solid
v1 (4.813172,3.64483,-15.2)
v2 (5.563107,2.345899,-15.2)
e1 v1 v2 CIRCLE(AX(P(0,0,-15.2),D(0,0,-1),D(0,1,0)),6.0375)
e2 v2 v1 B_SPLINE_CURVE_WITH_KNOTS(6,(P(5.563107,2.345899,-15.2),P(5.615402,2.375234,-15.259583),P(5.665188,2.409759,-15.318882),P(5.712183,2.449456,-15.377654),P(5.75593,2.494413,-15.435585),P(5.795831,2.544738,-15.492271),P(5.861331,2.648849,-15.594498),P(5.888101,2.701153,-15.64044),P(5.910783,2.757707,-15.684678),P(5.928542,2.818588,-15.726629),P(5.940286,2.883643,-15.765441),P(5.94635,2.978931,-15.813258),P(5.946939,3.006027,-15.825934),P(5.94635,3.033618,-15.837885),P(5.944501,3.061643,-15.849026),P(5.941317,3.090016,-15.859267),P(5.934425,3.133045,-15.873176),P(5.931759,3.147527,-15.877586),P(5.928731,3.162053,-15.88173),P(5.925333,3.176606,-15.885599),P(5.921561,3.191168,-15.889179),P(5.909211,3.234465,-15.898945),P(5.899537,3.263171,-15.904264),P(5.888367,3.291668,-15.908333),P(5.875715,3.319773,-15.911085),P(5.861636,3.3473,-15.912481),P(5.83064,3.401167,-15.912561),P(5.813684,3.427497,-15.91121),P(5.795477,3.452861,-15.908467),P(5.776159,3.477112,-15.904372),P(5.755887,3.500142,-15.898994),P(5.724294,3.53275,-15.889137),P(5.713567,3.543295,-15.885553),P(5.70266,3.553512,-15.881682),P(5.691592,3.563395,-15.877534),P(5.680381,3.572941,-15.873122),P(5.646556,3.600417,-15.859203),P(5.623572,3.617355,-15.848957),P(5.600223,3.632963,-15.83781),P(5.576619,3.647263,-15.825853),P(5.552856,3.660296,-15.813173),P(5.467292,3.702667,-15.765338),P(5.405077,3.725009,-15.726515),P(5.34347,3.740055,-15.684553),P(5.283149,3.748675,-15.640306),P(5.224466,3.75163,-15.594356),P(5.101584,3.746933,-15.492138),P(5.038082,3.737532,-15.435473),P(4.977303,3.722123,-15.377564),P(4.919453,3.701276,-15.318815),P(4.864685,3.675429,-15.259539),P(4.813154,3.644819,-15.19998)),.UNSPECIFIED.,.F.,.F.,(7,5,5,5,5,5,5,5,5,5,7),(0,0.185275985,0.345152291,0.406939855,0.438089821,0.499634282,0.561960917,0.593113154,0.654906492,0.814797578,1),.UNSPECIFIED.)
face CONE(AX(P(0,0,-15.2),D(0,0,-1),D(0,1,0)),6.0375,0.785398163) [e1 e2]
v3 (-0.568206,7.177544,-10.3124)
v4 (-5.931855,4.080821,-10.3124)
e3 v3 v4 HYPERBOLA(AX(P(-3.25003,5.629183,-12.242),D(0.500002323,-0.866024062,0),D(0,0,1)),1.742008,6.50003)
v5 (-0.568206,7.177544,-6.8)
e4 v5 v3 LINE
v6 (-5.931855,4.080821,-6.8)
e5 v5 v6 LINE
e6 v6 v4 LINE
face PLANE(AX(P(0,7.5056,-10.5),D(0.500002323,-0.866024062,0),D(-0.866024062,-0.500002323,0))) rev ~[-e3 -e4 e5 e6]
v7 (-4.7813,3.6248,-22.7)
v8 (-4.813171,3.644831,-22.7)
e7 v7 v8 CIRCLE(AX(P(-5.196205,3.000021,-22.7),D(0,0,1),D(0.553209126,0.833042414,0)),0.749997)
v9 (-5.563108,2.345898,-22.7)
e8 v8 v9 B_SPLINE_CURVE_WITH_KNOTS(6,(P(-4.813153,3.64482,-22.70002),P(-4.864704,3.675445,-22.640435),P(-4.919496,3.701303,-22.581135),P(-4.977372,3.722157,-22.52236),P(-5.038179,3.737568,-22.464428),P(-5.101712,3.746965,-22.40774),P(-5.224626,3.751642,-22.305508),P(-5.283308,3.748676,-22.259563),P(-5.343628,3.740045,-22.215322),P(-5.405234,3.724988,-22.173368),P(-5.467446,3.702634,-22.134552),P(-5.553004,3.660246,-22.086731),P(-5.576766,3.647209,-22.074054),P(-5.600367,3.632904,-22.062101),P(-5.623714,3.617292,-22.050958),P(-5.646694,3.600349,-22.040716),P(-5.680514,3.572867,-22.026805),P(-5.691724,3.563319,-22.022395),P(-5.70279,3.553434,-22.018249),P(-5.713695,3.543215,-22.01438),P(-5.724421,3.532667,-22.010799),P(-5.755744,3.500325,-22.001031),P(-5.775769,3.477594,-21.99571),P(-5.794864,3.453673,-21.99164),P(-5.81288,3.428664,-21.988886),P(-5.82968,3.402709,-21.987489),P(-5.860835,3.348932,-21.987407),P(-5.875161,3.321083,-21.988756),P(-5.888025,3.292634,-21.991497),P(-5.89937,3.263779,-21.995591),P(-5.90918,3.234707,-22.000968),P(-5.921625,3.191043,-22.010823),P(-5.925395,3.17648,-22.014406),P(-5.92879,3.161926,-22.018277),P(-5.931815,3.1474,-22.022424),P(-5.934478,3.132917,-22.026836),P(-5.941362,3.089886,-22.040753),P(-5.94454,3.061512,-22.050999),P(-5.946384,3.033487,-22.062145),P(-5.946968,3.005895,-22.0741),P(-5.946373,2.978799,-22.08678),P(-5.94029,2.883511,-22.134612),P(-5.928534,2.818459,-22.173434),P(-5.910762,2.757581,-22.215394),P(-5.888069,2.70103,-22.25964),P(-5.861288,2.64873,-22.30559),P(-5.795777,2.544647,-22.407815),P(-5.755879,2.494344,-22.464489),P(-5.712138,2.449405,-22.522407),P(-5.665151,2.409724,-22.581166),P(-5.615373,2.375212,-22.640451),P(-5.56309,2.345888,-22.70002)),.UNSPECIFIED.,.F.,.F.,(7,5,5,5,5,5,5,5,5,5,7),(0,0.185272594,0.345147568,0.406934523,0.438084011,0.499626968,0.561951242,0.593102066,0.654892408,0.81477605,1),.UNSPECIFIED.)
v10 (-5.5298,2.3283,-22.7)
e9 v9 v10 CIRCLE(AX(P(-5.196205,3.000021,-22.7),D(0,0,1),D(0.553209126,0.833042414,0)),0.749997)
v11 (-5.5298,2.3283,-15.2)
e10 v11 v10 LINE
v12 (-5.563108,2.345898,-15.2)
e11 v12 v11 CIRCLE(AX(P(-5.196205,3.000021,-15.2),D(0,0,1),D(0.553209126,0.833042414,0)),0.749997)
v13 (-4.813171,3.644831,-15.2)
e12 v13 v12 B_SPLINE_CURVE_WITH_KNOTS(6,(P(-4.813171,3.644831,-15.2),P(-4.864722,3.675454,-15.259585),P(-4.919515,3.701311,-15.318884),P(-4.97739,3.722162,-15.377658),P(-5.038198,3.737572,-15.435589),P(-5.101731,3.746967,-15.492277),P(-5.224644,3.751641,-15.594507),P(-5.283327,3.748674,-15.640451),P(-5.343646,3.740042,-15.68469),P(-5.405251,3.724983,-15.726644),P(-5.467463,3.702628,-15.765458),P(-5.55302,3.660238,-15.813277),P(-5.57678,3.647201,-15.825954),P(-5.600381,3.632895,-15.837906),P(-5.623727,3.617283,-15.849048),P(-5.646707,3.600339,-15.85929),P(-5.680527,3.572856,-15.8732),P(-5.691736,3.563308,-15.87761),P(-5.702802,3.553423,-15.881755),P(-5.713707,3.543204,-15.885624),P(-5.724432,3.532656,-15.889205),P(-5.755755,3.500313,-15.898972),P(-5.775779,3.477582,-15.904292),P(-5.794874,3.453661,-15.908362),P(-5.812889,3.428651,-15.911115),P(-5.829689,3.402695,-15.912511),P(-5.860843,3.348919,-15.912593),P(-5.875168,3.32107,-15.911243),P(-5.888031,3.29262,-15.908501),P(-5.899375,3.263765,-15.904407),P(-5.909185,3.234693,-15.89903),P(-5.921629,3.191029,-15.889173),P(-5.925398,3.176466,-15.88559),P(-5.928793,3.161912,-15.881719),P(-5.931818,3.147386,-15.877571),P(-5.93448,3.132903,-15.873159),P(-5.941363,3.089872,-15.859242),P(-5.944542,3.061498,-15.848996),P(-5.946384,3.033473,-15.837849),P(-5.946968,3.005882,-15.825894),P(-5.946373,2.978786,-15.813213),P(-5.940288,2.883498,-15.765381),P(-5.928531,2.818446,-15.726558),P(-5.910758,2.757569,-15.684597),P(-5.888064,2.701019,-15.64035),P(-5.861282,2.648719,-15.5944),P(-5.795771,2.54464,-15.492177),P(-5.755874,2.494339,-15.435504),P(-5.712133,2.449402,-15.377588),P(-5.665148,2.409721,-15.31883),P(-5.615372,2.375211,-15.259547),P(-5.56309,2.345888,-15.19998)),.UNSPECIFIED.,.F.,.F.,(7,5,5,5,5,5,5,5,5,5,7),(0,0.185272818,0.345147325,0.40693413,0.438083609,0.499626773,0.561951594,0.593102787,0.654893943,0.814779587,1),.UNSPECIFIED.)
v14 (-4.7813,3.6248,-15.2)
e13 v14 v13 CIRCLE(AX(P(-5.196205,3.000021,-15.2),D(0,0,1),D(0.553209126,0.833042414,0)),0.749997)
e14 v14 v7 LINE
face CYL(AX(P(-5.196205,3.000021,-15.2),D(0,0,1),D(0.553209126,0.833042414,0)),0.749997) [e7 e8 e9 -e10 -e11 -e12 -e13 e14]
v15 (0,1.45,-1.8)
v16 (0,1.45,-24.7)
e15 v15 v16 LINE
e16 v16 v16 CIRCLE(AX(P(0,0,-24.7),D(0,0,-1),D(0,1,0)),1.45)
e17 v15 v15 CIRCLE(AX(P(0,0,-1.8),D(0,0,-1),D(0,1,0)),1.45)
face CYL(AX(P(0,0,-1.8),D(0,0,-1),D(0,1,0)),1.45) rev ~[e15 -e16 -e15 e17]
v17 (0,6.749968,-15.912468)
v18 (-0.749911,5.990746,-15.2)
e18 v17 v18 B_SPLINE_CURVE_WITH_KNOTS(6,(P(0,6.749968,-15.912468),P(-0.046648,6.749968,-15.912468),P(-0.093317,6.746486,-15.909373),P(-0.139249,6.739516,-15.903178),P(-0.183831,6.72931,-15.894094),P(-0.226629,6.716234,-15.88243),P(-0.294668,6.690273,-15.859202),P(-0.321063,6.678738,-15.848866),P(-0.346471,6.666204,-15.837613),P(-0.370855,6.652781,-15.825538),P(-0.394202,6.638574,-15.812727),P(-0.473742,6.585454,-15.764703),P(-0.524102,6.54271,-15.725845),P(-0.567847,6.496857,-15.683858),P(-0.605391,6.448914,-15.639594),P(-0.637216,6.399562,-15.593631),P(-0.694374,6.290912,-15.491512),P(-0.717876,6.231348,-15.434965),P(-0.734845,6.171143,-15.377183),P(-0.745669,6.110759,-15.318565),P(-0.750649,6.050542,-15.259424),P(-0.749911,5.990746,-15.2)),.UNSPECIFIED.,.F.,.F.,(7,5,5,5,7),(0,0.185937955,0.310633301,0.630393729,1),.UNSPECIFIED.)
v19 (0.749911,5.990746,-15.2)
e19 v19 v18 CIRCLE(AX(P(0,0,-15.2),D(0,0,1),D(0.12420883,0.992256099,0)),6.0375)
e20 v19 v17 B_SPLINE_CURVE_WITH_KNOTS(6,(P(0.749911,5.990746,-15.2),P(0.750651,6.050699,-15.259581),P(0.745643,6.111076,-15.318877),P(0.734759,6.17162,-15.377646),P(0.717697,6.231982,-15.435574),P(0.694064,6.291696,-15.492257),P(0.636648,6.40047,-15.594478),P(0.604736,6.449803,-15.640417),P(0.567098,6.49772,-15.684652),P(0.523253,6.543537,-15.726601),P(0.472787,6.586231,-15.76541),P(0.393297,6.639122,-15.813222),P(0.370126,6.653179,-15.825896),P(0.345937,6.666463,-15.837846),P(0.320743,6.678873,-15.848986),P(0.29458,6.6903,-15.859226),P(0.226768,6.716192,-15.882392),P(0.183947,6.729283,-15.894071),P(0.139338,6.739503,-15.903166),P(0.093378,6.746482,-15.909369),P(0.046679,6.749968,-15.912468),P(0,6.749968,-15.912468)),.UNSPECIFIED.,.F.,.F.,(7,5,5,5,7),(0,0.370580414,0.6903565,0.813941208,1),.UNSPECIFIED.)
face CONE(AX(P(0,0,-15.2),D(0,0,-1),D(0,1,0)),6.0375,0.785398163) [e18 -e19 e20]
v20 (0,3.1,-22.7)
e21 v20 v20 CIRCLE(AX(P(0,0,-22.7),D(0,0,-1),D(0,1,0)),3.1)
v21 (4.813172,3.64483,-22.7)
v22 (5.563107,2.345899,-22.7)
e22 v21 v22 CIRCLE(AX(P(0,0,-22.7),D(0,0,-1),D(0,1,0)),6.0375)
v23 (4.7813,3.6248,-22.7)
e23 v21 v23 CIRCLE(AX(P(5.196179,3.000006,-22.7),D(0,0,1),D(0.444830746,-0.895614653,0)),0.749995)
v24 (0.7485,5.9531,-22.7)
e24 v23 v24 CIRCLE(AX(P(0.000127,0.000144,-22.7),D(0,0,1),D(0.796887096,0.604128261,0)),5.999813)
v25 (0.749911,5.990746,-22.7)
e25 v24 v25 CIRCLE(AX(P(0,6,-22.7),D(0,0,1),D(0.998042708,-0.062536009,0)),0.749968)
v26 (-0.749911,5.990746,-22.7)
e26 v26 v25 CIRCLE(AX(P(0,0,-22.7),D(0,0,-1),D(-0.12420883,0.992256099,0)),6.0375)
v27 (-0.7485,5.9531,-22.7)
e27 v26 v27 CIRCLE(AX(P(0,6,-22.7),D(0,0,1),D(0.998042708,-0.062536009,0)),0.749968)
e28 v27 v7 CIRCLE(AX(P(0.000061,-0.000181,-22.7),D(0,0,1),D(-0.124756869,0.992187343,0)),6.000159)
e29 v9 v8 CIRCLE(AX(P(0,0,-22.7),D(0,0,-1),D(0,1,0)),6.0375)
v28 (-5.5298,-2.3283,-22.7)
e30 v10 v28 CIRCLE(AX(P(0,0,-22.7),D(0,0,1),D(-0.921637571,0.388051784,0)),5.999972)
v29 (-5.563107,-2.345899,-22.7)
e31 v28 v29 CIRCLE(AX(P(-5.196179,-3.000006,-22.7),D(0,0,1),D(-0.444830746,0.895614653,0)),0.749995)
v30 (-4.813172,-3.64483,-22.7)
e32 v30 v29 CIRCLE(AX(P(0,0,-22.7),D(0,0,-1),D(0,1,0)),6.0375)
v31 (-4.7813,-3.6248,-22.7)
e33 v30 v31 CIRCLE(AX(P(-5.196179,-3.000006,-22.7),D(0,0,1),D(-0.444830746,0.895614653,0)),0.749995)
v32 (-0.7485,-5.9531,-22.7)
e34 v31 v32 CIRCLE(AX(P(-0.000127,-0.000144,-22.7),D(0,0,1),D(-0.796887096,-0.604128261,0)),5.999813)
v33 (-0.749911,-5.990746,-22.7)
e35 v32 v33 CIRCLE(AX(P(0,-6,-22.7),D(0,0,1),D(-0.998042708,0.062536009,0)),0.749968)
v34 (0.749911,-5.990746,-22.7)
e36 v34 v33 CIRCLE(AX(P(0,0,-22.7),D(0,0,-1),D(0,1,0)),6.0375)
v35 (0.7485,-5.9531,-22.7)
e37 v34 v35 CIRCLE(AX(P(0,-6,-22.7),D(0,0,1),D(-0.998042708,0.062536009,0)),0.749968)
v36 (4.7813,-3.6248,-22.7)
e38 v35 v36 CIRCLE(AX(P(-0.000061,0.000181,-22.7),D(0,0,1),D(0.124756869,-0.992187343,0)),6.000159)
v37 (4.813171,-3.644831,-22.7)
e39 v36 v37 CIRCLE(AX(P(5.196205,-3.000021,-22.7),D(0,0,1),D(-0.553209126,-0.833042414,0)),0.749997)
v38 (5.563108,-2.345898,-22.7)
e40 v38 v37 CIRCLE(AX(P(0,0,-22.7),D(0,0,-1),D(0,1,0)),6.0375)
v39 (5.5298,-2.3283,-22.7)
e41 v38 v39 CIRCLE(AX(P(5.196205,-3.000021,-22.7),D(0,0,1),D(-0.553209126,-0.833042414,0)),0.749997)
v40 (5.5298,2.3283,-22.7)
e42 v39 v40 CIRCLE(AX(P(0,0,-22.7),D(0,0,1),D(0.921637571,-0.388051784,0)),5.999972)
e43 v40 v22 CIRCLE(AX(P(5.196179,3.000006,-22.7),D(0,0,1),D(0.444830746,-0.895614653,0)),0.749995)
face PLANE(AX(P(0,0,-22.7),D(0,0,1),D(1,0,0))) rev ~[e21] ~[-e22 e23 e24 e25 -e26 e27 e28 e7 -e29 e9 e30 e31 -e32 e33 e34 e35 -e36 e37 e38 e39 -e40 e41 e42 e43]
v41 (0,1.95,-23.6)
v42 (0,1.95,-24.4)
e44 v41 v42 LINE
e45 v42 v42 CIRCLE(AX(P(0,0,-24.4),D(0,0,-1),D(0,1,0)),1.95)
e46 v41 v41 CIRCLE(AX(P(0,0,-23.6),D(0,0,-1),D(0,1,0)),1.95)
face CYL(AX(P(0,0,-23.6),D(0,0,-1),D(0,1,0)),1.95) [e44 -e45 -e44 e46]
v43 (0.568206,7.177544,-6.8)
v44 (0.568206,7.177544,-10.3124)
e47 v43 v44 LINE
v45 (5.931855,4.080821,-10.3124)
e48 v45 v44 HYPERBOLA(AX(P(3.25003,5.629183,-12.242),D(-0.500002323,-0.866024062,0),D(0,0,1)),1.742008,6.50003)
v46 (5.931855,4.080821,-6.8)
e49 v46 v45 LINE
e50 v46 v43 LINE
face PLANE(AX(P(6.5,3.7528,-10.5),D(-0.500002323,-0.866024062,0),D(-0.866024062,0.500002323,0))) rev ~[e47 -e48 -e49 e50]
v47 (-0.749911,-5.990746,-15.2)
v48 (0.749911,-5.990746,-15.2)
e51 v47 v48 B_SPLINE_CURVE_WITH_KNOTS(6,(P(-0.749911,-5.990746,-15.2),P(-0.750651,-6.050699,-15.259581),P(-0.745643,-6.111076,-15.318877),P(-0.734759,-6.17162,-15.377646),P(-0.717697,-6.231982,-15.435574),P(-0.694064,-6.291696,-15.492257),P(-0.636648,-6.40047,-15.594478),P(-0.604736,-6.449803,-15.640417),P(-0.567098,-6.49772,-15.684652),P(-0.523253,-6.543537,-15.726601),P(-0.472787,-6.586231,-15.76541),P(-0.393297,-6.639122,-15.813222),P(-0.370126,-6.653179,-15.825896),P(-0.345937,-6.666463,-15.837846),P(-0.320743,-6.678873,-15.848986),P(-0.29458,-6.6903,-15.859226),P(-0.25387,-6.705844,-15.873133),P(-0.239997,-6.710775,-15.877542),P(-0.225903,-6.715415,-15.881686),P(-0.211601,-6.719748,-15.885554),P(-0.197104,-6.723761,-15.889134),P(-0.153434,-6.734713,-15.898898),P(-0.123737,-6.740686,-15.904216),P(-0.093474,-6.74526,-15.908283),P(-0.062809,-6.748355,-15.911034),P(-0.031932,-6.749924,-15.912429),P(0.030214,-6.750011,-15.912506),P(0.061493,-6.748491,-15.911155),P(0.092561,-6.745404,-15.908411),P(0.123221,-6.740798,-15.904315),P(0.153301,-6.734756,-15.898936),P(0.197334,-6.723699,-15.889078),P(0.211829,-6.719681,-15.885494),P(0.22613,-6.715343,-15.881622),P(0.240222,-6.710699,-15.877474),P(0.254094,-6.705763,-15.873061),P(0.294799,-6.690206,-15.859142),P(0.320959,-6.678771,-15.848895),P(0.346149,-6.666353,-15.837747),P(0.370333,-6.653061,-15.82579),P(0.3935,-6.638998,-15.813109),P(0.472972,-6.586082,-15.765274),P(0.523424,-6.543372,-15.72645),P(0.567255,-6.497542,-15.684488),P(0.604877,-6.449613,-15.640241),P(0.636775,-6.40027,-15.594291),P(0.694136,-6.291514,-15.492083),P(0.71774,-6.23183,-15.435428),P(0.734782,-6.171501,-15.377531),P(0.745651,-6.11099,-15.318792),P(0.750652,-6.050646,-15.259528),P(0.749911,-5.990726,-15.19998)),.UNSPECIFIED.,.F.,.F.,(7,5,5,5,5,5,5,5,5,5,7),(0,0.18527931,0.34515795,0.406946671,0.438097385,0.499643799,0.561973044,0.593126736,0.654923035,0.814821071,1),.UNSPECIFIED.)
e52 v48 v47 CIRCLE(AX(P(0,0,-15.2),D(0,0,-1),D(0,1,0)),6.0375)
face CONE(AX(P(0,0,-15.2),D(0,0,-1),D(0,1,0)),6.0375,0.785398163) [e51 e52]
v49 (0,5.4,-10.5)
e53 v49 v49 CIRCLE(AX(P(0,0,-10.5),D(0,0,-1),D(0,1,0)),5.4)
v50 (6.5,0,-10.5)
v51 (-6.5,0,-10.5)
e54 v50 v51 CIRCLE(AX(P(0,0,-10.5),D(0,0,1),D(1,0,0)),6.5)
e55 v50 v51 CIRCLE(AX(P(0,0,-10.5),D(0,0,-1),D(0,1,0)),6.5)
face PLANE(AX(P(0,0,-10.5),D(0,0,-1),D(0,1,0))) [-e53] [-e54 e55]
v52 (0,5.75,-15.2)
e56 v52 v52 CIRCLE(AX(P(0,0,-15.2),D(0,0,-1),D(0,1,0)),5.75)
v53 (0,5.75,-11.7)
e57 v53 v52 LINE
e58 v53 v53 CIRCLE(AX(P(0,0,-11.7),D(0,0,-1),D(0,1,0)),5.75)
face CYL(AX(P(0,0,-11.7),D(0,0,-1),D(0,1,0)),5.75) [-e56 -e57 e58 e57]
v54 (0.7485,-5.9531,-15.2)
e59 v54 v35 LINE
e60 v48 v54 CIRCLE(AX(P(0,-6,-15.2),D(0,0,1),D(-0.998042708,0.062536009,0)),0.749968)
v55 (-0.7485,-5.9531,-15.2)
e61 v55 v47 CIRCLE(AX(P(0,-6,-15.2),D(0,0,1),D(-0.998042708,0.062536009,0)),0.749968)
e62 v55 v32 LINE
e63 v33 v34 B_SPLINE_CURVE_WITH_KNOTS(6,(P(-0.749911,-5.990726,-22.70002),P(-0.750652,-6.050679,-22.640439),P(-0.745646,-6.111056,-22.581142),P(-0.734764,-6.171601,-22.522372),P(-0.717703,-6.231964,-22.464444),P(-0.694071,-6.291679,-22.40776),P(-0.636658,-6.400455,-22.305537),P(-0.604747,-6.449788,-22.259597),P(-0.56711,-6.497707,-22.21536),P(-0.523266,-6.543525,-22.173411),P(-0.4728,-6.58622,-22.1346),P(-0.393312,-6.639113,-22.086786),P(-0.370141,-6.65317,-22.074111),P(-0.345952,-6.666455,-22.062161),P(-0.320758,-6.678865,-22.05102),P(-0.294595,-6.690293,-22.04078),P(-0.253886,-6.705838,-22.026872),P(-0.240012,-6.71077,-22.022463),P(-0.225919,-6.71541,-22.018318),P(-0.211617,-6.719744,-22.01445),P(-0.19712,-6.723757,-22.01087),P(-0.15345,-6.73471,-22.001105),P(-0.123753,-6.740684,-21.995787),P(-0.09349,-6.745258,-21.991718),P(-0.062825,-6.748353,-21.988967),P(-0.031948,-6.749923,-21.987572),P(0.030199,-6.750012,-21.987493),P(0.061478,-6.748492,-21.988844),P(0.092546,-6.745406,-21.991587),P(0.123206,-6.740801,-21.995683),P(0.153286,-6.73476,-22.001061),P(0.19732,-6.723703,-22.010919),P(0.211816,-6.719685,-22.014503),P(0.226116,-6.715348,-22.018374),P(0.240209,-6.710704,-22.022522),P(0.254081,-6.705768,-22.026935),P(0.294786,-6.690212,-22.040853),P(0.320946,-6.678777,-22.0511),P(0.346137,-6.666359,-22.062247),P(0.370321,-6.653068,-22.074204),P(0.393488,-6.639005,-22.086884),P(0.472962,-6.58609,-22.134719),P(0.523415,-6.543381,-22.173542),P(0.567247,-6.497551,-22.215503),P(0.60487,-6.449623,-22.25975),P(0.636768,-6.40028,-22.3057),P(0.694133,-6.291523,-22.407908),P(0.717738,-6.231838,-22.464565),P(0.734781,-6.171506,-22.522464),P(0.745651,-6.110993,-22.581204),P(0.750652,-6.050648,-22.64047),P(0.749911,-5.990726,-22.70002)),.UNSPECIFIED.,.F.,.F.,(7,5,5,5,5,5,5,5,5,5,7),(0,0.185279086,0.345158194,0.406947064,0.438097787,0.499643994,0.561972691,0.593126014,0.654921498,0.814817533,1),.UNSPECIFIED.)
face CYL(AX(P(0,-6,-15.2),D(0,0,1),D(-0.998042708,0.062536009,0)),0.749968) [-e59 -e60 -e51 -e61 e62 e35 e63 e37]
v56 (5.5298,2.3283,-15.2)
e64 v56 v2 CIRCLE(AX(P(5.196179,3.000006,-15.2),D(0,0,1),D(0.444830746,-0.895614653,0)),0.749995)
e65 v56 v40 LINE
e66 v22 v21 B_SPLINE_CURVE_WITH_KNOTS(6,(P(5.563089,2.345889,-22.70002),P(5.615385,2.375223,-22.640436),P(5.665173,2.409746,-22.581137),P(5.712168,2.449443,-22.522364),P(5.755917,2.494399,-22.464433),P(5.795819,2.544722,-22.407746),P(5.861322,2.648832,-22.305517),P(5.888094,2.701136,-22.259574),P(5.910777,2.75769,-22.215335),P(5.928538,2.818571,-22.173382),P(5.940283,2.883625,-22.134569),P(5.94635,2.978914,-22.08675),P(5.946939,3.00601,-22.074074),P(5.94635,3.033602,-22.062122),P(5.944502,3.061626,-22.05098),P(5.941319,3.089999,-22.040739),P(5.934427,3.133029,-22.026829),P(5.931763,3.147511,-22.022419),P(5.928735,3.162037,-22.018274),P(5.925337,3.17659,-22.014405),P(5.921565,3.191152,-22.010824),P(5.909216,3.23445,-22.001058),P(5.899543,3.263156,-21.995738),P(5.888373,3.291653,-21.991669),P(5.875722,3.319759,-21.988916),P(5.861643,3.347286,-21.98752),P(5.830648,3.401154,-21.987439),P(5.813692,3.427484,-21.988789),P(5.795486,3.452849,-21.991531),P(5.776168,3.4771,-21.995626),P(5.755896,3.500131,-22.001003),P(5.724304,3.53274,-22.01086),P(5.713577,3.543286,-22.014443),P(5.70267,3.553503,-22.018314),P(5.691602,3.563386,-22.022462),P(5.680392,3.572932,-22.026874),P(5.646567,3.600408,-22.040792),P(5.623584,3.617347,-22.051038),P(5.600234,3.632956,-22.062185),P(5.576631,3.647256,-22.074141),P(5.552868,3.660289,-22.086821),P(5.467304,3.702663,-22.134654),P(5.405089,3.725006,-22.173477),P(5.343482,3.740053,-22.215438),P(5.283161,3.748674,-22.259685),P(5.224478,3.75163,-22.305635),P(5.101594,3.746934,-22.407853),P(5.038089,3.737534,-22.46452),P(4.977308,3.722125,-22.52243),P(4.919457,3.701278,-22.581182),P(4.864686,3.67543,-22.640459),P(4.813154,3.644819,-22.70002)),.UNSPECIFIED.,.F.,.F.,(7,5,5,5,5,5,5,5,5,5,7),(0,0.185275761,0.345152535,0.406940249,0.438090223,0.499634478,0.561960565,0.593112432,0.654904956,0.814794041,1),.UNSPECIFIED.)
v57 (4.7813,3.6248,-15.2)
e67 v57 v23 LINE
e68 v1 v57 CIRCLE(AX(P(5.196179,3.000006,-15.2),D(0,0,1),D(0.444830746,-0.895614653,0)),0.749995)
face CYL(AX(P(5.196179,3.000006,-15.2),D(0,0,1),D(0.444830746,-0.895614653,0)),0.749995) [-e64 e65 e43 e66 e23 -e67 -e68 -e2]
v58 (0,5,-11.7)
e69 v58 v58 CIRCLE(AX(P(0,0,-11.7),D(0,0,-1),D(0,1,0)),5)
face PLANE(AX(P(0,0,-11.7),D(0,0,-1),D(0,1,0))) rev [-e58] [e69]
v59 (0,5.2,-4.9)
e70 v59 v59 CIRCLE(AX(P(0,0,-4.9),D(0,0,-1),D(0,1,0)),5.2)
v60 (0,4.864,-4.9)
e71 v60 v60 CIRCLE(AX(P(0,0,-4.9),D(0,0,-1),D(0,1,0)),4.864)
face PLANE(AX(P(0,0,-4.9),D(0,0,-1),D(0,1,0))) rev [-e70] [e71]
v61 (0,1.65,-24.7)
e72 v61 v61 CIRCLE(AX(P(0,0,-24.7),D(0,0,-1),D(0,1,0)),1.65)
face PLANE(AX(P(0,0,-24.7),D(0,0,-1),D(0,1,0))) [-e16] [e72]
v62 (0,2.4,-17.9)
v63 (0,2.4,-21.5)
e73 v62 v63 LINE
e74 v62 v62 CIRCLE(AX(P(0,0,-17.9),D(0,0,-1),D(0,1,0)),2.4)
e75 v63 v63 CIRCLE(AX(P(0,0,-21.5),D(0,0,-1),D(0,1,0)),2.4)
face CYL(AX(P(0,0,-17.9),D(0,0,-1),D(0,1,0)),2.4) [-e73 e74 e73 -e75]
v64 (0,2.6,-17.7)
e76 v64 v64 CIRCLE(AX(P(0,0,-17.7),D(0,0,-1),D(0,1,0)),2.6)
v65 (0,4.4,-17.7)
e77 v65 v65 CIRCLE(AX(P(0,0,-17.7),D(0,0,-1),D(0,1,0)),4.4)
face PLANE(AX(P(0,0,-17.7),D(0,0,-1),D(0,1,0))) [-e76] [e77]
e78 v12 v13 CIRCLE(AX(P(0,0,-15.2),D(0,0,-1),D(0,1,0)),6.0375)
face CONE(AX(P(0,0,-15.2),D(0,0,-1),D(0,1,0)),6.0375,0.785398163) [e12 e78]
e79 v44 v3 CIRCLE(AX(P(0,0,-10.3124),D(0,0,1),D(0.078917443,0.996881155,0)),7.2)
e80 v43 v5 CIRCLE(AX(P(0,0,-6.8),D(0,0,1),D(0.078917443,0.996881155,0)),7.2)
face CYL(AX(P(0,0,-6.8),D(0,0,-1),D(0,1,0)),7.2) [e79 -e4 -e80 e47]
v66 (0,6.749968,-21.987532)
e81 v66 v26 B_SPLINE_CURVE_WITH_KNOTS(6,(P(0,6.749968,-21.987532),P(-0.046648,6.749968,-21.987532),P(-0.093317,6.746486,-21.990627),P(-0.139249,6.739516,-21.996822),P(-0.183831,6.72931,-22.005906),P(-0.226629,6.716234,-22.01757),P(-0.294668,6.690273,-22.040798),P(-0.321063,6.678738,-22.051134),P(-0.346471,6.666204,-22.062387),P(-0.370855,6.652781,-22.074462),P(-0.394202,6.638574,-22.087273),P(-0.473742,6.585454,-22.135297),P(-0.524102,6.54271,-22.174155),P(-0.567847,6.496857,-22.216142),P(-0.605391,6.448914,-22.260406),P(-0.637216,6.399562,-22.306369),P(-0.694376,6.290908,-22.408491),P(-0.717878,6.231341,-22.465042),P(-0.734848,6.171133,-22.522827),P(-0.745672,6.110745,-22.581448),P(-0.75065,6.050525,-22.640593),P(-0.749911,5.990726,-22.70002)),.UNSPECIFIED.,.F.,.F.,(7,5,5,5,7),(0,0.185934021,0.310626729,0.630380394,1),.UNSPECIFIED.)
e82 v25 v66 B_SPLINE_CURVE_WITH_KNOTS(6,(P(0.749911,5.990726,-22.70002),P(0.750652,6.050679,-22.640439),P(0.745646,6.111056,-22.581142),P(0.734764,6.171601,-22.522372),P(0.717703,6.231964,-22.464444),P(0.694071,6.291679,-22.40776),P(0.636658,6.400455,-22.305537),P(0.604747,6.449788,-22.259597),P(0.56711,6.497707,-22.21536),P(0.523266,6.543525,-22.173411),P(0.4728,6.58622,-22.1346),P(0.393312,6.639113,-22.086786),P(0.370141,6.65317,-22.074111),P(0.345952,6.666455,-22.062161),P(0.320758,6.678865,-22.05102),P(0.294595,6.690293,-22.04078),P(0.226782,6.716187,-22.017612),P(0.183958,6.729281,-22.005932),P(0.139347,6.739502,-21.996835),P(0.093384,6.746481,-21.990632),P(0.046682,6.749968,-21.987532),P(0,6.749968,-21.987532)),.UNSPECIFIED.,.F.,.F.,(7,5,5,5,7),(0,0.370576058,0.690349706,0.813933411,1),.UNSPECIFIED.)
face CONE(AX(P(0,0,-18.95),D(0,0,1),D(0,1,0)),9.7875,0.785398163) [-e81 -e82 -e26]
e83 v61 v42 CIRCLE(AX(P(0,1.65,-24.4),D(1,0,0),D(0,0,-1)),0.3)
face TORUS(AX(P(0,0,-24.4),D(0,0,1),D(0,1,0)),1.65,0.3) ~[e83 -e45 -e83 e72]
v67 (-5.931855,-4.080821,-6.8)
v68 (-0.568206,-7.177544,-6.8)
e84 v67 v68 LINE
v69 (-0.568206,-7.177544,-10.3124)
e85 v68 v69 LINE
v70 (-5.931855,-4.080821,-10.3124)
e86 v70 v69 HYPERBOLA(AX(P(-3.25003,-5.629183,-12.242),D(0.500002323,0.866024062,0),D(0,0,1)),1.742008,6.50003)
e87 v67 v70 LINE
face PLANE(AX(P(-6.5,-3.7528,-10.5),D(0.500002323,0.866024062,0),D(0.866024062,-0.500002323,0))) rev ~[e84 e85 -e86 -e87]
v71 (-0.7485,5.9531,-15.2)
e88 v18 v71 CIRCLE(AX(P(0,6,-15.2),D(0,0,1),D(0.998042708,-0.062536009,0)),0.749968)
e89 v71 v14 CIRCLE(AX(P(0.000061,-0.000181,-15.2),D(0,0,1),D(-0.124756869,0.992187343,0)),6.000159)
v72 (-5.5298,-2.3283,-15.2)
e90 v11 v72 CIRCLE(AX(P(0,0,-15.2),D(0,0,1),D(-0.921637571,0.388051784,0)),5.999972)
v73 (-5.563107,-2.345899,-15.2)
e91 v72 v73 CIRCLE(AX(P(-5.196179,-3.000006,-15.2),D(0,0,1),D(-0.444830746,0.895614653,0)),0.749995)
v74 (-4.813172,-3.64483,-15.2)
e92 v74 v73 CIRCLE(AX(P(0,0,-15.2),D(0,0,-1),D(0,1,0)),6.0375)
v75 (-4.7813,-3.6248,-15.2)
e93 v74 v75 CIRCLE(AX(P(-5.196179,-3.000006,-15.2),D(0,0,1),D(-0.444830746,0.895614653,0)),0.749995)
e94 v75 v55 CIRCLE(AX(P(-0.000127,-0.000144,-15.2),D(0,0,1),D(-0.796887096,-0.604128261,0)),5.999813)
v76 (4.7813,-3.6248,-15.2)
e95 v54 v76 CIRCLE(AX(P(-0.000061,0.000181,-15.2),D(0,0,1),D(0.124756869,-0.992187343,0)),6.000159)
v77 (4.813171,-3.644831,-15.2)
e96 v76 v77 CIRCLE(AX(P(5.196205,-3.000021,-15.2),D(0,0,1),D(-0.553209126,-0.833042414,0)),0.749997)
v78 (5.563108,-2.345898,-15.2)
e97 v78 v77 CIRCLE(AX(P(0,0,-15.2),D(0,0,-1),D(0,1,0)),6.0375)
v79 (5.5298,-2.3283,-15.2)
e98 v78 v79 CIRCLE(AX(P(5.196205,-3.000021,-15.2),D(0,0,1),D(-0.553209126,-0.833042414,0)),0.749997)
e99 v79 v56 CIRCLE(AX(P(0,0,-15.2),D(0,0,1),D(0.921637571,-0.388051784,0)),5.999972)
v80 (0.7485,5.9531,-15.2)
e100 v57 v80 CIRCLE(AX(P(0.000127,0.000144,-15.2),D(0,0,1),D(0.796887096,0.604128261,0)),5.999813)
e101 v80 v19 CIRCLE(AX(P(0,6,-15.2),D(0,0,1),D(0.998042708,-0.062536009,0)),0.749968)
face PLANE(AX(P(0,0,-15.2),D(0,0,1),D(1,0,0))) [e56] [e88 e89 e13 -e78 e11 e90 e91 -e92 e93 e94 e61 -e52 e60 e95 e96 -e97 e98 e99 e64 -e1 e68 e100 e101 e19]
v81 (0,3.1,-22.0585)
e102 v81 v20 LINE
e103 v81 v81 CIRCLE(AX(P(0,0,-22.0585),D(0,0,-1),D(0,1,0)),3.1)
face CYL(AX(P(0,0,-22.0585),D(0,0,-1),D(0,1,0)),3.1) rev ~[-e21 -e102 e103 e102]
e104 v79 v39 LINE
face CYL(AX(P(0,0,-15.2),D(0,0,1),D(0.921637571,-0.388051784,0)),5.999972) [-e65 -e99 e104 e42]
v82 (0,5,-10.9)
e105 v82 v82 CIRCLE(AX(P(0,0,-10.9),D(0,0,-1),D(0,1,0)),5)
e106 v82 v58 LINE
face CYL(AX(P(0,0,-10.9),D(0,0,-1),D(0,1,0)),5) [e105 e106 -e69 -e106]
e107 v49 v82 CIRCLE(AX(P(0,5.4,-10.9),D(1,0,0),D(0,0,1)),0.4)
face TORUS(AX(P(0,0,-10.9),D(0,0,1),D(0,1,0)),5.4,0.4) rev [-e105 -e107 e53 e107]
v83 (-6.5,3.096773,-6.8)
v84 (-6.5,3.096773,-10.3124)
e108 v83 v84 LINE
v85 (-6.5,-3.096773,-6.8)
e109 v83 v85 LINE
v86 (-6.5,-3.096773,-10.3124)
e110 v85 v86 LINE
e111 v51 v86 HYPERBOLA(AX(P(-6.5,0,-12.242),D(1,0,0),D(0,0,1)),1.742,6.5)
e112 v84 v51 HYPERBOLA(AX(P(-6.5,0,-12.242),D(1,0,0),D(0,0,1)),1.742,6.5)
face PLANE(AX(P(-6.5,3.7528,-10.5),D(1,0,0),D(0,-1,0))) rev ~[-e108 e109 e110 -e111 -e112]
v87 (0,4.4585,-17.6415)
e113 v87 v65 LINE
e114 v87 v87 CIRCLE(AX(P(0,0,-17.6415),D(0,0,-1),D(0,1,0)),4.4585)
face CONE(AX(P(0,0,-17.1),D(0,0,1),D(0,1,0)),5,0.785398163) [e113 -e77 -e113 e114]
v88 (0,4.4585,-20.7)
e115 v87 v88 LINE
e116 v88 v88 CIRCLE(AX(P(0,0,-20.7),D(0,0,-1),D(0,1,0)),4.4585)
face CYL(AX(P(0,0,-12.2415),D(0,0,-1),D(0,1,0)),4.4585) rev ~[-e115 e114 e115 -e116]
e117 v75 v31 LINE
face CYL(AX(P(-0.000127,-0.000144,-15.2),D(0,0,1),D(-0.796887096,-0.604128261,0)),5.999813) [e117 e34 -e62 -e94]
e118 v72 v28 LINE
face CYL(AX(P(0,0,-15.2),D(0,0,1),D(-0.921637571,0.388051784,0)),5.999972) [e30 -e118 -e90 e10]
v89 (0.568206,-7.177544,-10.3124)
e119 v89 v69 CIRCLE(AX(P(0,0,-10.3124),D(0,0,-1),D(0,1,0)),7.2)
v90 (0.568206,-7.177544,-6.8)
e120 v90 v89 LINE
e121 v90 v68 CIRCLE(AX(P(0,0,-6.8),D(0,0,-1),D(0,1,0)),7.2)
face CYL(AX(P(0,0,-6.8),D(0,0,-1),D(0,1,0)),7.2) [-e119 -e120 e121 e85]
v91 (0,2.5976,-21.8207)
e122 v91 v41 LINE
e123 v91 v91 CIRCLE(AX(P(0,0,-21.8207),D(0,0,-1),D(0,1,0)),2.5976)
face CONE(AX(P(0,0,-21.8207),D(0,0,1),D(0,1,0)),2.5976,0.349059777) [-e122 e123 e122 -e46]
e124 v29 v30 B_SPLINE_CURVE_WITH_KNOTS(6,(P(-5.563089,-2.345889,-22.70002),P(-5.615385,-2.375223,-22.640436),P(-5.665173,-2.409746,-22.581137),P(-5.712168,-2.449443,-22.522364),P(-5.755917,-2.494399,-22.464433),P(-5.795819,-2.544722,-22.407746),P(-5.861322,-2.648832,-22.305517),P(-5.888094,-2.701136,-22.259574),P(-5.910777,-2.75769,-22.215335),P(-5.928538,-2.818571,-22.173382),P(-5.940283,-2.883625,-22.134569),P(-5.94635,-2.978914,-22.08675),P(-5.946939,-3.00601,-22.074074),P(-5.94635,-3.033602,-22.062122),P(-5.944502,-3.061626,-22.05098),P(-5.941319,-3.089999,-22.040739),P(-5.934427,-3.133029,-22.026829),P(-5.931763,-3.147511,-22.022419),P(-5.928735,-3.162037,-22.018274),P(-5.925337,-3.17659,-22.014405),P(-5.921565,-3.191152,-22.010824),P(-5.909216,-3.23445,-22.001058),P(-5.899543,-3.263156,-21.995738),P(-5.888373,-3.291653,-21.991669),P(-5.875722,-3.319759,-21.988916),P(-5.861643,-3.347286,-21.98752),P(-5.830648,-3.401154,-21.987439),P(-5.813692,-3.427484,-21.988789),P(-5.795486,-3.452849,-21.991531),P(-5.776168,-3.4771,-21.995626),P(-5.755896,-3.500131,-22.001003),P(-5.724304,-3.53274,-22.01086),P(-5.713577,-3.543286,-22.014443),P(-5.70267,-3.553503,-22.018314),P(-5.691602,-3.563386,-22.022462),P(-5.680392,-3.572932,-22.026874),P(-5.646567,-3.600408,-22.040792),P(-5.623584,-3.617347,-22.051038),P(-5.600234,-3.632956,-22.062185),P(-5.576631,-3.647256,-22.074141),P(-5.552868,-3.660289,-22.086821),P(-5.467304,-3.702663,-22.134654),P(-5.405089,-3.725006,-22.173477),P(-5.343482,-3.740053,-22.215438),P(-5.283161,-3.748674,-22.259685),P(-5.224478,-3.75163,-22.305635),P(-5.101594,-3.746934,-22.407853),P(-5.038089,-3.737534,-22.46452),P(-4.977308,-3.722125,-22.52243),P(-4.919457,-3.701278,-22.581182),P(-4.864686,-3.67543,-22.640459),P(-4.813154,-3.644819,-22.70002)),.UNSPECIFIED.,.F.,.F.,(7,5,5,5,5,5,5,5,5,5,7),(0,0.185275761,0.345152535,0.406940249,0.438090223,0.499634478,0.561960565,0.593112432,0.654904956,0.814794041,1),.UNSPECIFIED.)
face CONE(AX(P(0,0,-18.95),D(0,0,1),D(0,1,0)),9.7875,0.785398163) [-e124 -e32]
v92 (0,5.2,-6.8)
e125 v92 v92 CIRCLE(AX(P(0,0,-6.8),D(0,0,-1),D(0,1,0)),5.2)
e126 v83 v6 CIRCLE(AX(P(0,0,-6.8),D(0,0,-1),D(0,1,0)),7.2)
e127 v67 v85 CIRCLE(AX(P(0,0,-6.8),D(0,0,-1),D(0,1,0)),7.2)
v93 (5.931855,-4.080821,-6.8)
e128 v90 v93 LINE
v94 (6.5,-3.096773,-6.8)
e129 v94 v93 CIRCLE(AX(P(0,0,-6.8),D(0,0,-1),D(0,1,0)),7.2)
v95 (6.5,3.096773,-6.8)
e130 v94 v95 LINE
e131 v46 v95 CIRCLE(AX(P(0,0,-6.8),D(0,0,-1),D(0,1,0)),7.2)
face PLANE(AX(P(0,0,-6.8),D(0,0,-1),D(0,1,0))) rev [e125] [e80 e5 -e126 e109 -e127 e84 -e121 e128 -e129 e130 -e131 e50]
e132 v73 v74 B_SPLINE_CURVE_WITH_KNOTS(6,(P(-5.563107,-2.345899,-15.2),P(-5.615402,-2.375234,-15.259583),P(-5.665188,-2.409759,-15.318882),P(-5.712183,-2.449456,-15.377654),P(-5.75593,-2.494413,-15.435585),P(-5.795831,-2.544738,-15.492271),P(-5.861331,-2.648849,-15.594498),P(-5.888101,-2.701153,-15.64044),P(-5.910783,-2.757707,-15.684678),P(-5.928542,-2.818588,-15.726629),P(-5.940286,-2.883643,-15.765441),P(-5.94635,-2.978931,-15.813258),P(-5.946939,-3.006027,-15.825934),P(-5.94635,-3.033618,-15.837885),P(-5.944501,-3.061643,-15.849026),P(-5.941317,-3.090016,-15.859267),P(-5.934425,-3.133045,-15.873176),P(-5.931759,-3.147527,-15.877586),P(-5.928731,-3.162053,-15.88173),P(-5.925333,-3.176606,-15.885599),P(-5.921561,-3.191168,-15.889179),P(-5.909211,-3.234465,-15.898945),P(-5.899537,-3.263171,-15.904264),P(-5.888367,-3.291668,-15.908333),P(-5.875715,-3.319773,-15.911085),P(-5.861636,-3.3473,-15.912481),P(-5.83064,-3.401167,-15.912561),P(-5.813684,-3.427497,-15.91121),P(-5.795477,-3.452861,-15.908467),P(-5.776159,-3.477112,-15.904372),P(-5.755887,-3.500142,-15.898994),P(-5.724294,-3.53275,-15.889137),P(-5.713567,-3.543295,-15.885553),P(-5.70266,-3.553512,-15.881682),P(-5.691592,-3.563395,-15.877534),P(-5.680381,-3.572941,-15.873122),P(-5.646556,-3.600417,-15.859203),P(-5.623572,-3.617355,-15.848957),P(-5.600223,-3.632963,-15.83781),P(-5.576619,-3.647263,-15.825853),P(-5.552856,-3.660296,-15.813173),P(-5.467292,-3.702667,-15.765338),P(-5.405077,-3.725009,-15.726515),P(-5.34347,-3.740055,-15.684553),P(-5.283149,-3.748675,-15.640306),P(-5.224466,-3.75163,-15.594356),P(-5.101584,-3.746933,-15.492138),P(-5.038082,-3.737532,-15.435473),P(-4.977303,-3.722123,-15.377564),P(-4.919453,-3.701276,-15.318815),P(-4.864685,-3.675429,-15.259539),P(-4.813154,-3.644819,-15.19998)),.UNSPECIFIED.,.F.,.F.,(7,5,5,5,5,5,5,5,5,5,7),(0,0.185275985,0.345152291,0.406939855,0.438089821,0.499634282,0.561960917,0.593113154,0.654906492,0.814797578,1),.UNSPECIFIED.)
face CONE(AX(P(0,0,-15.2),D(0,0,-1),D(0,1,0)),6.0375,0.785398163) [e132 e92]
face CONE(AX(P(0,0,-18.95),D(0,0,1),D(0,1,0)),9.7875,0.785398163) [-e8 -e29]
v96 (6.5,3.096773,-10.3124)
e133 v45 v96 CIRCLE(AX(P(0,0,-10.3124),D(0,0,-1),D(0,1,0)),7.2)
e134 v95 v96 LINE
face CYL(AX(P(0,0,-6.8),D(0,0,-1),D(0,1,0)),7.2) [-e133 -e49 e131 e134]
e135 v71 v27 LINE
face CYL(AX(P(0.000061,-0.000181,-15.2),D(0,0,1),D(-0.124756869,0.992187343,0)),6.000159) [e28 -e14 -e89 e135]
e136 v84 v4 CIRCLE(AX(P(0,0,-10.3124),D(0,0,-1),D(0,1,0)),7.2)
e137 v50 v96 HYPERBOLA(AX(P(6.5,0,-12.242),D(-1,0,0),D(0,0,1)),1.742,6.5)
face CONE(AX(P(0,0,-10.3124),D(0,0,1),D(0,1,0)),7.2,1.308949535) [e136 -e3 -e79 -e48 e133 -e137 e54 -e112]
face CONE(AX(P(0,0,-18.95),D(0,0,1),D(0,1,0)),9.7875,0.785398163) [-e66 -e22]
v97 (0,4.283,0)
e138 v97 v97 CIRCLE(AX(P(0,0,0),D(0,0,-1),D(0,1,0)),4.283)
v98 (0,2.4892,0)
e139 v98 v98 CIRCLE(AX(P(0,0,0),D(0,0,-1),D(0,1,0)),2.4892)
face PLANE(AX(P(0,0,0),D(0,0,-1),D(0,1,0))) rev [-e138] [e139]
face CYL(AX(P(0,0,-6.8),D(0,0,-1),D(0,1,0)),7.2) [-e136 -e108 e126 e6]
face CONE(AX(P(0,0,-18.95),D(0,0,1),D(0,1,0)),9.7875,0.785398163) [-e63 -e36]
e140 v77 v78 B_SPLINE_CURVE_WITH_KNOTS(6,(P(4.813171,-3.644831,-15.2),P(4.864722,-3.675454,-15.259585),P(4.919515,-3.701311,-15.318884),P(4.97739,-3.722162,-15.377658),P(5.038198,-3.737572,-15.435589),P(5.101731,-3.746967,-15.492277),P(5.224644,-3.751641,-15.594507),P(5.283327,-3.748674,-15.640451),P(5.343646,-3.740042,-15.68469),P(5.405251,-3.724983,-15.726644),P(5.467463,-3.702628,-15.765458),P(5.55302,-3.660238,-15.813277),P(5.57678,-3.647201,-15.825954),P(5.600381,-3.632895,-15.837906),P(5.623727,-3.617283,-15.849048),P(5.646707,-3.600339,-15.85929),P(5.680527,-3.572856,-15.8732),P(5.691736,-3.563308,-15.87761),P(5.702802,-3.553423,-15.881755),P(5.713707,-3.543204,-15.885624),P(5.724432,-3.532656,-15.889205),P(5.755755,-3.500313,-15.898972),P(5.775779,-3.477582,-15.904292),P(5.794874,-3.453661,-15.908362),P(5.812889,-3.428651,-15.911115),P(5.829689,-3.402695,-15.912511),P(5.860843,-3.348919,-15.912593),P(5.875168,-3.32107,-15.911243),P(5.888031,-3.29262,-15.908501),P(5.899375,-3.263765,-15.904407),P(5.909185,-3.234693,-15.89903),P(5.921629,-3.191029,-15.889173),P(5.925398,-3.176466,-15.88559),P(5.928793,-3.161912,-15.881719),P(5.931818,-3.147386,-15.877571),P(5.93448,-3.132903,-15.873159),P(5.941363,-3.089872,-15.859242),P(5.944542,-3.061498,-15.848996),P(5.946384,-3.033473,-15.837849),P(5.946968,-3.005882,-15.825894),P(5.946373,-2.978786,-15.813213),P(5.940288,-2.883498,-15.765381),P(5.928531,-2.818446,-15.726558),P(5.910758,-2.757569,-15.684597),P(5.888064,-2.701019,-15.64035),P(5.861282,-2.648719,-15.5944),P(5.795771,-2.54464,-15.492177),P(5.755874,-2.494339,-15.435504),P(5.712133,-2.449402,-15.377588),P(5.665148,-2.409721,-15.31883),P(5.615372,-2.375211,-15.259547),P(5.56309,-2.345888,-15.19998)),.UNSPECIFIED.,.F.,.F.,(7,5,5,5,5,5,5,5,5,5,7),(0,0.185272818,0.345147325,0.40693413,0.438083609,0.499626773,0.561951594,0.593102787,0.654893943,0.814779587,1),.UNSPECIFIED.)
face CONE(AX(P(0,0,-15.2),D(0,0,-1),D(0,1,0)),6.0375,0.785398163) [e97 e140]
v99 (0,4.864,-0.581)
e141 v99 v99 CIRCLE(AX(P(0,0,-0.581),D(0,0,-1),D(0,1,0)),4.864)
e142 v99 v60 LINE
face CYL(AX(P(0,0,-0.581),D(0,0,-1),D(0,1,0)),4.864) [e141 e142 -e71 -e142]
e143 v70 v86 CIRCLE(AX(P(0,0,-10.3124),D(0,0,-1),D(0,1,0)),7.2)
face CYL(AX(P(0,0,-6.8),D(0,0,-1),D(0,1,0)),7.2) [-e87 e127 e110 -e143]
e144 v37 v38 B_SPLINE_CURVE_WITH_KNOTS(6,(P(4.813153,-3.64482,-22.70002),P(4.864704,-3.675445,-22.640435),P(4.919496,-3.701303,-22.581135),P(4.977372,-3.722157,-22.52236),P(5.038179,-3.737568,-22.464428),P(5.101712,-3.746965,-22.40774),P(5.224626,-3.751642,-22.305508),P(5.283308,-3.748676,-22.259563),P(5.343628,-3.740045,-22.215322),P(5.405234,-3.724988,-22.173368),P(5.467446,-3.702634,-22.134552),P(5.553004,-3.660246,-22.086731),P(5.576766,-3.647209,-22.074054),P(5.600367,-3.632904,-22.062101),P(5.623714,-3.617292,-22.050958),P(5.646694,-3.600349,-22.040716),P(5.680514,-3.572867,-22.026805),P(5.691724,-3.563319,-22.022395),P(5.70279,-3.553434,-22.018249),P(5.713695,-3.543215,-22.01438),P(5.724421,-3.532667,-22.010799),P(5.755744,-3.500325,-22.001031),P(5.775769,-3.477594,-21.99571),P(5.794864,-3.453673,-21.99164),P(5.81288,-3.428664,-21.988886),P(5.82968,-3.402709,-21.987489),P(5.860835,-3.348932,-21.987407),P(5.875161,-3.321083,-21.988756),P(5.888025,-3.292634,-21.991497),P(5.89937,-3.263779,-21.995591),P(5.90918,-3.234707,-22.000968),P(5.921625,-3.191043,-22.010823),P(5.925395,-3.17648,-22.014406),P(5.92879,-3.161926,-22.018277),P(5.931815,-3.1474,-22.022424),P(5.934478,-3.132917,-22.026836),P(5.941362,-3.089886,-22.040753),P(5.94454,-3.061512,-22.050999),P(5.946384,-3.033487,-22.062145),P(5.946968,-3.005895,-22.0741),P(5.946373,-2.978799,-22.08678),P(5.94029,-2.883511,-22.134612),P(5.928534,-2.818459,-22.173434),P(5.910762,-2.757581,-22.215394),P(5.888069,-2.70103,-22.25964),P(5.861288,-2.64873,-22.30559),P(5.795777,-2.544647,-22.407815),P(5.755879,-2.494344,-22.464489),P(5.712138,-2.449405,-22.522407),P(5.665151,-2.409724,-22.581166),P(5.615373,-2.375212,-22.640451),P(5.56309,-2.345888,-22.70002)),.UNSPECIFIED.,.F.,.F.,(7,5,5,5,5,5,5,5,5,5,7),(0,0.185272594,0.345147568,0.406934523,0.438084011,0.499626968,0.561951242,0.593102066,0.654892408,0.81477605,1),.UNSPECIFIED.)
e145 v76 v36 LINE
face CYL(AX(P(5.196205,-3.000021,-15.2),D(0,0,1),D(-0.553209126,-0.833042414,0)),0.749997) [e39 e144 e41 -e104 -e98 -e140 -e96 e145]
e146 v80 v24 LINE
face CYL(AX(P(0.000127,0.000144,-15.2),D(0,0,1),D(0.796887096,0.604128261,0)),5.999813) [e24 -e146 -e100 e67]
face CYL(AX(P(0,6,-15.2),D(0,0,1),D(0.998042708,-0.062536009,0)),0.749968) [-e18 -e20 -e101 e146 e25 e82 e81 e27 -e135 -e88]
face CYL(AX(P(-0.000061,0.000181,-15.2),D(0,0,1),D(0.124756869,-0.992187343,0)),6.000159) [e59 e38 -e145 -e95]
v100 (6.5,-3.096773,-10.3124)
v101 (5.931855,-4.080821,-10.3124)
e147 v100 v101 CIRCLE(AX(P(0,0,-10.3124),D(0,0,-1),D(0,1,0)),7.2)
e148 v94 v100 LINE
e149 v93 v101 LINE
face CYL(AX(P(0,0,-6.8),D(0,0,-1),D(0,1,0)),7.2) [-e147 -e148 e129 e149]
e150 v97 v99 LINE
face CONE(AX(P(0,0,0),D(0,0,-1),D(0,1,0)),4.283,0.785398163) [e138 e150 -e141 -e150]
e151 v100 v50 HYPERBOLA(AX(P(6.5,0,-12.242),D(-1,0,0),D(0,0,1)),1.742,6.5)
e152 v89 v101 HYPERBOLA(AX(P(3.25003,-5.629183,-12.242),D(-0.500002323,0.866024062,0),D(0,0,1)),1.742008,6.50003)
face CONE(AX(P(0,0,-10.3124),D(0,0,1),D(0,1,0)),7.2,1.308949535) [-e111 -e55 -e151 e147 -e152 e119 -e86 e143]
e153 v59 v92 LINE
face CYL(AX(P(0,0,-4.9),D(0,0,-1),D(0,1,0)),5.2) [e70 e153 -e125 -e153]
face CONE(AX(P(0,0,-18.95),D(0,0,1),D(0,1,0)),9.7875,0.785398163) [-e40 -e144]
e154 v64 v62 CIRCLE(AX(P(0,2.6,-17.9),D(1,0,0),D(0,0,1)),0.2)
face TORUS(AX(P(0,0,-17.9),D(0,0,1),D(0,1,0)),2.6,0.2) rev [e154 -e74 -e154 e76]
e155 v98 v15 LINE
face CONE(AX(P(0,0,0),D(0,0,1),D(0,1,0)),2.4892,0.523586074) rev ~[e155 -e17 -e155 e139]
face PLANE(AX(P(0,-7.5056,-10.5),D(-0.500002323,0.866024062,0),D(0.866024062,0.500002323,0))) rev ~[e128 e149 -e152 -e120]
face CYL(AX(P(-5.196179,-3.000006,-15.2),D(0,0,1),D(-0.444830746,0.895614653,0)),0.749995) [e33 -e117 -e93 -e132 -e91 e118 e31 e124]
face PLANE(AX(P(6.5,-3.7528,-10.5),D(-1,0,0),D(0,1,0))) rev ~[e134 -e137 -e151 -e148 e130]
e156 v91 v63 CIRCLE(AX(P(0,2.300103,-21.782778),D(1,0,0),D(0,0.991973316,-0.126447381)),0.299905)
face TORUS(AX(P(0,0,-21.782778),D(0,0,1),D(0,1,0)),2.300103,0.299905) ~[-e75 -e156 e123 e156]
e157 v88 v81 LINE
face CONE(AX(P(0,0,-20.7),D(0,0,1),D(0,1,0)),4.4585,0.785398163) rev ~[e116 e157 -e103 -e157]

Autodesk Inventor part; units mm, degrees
sketch "Sketch_1" plane through (0, 0, 0) normal (1, 0, 0) x (0, 1, 0)
  line L0 (0, -22.7) -> (0, -11.7)
  line L1 (0, -11.7) -> (5.75, -11.7)
  line L2 (5.75, -11.7) -> (5.75, -22.7)
  line L3 (5.75, -22.7) -> (0, -22.7)
  line L4 (0, -22.7) -> (0, -11.7)
revolve "Revolution1" add sketch "Sketch_1" angle 360 about axis through (0, 0, -22.7) along (0, 0, -1)
sketch "Sketch_2" plane through (0, 0, 0) normal (1, 0, 0) x (0, 1, 0)
  line L0 (0, -22.7) -> (0, -11.7)
  line L1 (0, -11.7) -> (5, -11.7)
  line L2 (5, -11.7) -> (4.4585, -12.2415)
  line L3 (4.4585, -12.2415) -> (4.4585, -20.7)
  line L4 (4.4585, -20.7) -> (3.1, -22.0585)
  line L5 (3.1, -22.0585) -> (3.1, -22.7)
  line L6 (3.1, -22.7) -> (0, -22.7)
  line L7 (0, -22.7) -> (0, -11.7)
revolve "Revolution2" cut sketch "Sketch_2" angle 360 about axis through (0, 0, -22.7) along (0, 0, -1)
thread "Thread1" size "M10x1" class "6H" standard "ISO Metric profile" length 5.9585
sketch "Sketch_3" plane through (0, 0, -15.2) normal (0, 0, 1) x (1, 0, 0)
  arc A0 (-5.5298, 2.3283) -> (-5.5298, -2.3283) centre (0, 0) ccw
  arc A1 (-5.5298, -2.3283) -> (-4.7813, -3.6248) centre (-5.1962, -3) ccw
  arc A2 (-4.7813, -3.6248) -> (-0.7485, -5.9531) centre (0, 0) ccw
  arc A3 (-0.7485, -5.9531) -> (0.7485, -5.9531) centre (0, -6) ccw
  arc A4 (0.7485, -5.9531) -> (4.7813, -3.6248) centre (0, 0) ccw
  arc A5 (4.7813, -3.6248) -> (5.5298, -2.3283) centre (5.1962, -3) ccw
  arc A6 (5.5298, -2.3283) -> (5.5298, 2.3283) centre (0, 0) ccw
  arc A7 (5.5298, 2.3283) -> (4.7813, 3.6248) centre (5.1962, 3) ccw
  arc A8 (4.7813, 3.6248) -> (0.7485, 5.9531) centre (0, 0) ccw
  arc A9 (0.7485, 5.9531) -> (-0.7485, 5.9531) centre (0, 6) ccw
  arc A10 (-0.7485, 5.9531) -> (-4.7813, 3.6248) centre (0, 0) ccw
  arc A11 (-4.7813, 3.6248) -> (-5.5298, 2.3283) centre (-5.1962, 3) ccw
  circle A12 centre (0, 0) radius 5.175
extrude "Extrusion1" add sketch "Sketch_3" against normal blind 7.5
sketch "Sketch_4" plane through (0, 0, 0) normal (1, 0, 0) x (0, 1, 0)
  line L0 (0, -23.7) -> (0, -14.2)
  line L1 (17.5375, -14.2) -> (6.0375, -14.2)
  line L2 (6.0375, -14.2) -> (6.0375, -15.2)
  line L3 (6.0375, -15.2) -> (9.7875, -18.95)
  line L4 (9.7875, -18.95) -> (5.0375, -23.7)
  line L5 (5.0375, -23.7) -> (17.5375, -23.7)
  line L6 (17.5375, -23.7) -> (17.5375, -14.2)
revolve "Revolution3" cut sketch "Sketch_4" angle 360 about axis through (0, 0, -23.7) along (0, 0, -1)
sketch "Sketch_5" plane through (0, 0, 0) normal (1, 0, 0) x (0, 1, 0)
  line L0 (0, -24.7) -> (0, 0)
  line L1 (0, 0) -> (4.283, 0)
  line L2 (4.283, 0) -> (4.864, -0.581)
  line L3 (4.864, -0.581) -> (4.864, -4.9)
  line L4 (4.864, -4.9) -> (5.2, -4.9)
  line L5 (5.2, -4.9) -> (5.2, -6.8)
  line L6 (5.2, -6.8) -> (7.2, -6.8)
  line L7 (7.2, -6.8) -> (7.2, -10.3124)
  line L8 (7.2, -10.3124) -> (6.5, -10.5)
  line L9 (6.5, -10.5) -> (5.4, -10.5)
  arc A0 (5.4, -10.5) -> (5, -10.9) centre (5.4, -10.9) ccw
  line L10 (5, -10.9) -> (5, -17.1)
  line L11 (5, -17.1) -> (4.4, -17.7)
  line L12 (4.4, -17.7) -> (2.6, -17.7)
  arc A1 (2.6, -17.7) -> (2.4, -17.9) centre (2.6, -17.9) ccw
  line L13 (2.4, -17.9) -> (2.4, -21.5)
  arc A2 (2.5976, -21.8207) -> (2.4, -21.5) centre (2.3, -21.7828) ccw
  line L14 (2.5976, -21.8207) -> (1.95, -23.6)
  line L15 (1.95, -23.6) -> (1.95, -24.4)
  arc A3 (1.65, -24.7) -> (1.95, -24.4) centre (1.65, -24.4) ccw
  line L16 (1.65, -24.7) -> (0, -24.7)
  line L17 (0, -24.7) -> (0, 0)
revolve "Revolution4" add sketch "Sketch_5" angle 360 about axis through (0, 0, -24.7) along (0, 0, -1)
thread "Thread2" size "G9.728x0.907" designation "G 1/8" class "A" standard "ISO Pipe Threads" full length
sketch "Sketch_6" plane through (0, 0, -10.5) normal (0, 0, 1) x (1, 0, 0)
  line L0 (-13, -13) -> (13, -13)
  line L1 (13, -13) -> (13, 13)
  line L2 (13, 13) -> (-13, 13)
  line L3 (-13, 13) -> (-13, -13)
  line L4 (-6.5, 3.7528) -> (-6.5, -3.7528)
  line L5 (-6.5, -3.7528) -> (0, -7.5056)
  line L6 (0, -7.5056) -> (6.5, -3.7528)
  line L7 (6.5, -3.7528) -> (6.5, 3.7528)
  line L8 (6.5, 3.7528) -> (0, 7.5056)
  line L9 (0, 7.5056) -> (-6.5, 3.7528)
extrude "Extrusion2" cut sketch "Sketch_6" along normal blind 3.7
sketch "Sketch_7_ALT_Drilling_1" plane through (0, 0, 0) normal (1, 0, 0) x (0, 1, 0)
  line L0 (0, -24.7) -> (0, 0)
  line L1 (0, 0) -> (2.4892, 0)
  line L2 (2.4892, 0) -> (1.45, -1.8)
  line L3 (1.45, -1.8) -> (1.45, -24.7)
  line L4 (1.45, -24.7) -> (0, -24.7)
  line L5 (0, -24.7) -> (0, 0)
revolve "Revolution5" cut sketch "Sketch_7_ALT_Drilling_1" angle 360 about axis through (0, 0, -24.7) along (0, 0, -1)
ref_plane "ANBAU_XY" through (0, 0, -4.9) normal (0, 0, 1) x (1, 0, 0)
ref_plane "ANBAU_YZ" through (0, 0, -4.9) normal (1, 0, 0) x (0, 1, 0)
ref_plane "ANBAU_ZX" through (0, 0, -4.9) normal (0, 1, 0) x (0, 0, 1)
properties part number "2027 CK-1/8-PK-4"
